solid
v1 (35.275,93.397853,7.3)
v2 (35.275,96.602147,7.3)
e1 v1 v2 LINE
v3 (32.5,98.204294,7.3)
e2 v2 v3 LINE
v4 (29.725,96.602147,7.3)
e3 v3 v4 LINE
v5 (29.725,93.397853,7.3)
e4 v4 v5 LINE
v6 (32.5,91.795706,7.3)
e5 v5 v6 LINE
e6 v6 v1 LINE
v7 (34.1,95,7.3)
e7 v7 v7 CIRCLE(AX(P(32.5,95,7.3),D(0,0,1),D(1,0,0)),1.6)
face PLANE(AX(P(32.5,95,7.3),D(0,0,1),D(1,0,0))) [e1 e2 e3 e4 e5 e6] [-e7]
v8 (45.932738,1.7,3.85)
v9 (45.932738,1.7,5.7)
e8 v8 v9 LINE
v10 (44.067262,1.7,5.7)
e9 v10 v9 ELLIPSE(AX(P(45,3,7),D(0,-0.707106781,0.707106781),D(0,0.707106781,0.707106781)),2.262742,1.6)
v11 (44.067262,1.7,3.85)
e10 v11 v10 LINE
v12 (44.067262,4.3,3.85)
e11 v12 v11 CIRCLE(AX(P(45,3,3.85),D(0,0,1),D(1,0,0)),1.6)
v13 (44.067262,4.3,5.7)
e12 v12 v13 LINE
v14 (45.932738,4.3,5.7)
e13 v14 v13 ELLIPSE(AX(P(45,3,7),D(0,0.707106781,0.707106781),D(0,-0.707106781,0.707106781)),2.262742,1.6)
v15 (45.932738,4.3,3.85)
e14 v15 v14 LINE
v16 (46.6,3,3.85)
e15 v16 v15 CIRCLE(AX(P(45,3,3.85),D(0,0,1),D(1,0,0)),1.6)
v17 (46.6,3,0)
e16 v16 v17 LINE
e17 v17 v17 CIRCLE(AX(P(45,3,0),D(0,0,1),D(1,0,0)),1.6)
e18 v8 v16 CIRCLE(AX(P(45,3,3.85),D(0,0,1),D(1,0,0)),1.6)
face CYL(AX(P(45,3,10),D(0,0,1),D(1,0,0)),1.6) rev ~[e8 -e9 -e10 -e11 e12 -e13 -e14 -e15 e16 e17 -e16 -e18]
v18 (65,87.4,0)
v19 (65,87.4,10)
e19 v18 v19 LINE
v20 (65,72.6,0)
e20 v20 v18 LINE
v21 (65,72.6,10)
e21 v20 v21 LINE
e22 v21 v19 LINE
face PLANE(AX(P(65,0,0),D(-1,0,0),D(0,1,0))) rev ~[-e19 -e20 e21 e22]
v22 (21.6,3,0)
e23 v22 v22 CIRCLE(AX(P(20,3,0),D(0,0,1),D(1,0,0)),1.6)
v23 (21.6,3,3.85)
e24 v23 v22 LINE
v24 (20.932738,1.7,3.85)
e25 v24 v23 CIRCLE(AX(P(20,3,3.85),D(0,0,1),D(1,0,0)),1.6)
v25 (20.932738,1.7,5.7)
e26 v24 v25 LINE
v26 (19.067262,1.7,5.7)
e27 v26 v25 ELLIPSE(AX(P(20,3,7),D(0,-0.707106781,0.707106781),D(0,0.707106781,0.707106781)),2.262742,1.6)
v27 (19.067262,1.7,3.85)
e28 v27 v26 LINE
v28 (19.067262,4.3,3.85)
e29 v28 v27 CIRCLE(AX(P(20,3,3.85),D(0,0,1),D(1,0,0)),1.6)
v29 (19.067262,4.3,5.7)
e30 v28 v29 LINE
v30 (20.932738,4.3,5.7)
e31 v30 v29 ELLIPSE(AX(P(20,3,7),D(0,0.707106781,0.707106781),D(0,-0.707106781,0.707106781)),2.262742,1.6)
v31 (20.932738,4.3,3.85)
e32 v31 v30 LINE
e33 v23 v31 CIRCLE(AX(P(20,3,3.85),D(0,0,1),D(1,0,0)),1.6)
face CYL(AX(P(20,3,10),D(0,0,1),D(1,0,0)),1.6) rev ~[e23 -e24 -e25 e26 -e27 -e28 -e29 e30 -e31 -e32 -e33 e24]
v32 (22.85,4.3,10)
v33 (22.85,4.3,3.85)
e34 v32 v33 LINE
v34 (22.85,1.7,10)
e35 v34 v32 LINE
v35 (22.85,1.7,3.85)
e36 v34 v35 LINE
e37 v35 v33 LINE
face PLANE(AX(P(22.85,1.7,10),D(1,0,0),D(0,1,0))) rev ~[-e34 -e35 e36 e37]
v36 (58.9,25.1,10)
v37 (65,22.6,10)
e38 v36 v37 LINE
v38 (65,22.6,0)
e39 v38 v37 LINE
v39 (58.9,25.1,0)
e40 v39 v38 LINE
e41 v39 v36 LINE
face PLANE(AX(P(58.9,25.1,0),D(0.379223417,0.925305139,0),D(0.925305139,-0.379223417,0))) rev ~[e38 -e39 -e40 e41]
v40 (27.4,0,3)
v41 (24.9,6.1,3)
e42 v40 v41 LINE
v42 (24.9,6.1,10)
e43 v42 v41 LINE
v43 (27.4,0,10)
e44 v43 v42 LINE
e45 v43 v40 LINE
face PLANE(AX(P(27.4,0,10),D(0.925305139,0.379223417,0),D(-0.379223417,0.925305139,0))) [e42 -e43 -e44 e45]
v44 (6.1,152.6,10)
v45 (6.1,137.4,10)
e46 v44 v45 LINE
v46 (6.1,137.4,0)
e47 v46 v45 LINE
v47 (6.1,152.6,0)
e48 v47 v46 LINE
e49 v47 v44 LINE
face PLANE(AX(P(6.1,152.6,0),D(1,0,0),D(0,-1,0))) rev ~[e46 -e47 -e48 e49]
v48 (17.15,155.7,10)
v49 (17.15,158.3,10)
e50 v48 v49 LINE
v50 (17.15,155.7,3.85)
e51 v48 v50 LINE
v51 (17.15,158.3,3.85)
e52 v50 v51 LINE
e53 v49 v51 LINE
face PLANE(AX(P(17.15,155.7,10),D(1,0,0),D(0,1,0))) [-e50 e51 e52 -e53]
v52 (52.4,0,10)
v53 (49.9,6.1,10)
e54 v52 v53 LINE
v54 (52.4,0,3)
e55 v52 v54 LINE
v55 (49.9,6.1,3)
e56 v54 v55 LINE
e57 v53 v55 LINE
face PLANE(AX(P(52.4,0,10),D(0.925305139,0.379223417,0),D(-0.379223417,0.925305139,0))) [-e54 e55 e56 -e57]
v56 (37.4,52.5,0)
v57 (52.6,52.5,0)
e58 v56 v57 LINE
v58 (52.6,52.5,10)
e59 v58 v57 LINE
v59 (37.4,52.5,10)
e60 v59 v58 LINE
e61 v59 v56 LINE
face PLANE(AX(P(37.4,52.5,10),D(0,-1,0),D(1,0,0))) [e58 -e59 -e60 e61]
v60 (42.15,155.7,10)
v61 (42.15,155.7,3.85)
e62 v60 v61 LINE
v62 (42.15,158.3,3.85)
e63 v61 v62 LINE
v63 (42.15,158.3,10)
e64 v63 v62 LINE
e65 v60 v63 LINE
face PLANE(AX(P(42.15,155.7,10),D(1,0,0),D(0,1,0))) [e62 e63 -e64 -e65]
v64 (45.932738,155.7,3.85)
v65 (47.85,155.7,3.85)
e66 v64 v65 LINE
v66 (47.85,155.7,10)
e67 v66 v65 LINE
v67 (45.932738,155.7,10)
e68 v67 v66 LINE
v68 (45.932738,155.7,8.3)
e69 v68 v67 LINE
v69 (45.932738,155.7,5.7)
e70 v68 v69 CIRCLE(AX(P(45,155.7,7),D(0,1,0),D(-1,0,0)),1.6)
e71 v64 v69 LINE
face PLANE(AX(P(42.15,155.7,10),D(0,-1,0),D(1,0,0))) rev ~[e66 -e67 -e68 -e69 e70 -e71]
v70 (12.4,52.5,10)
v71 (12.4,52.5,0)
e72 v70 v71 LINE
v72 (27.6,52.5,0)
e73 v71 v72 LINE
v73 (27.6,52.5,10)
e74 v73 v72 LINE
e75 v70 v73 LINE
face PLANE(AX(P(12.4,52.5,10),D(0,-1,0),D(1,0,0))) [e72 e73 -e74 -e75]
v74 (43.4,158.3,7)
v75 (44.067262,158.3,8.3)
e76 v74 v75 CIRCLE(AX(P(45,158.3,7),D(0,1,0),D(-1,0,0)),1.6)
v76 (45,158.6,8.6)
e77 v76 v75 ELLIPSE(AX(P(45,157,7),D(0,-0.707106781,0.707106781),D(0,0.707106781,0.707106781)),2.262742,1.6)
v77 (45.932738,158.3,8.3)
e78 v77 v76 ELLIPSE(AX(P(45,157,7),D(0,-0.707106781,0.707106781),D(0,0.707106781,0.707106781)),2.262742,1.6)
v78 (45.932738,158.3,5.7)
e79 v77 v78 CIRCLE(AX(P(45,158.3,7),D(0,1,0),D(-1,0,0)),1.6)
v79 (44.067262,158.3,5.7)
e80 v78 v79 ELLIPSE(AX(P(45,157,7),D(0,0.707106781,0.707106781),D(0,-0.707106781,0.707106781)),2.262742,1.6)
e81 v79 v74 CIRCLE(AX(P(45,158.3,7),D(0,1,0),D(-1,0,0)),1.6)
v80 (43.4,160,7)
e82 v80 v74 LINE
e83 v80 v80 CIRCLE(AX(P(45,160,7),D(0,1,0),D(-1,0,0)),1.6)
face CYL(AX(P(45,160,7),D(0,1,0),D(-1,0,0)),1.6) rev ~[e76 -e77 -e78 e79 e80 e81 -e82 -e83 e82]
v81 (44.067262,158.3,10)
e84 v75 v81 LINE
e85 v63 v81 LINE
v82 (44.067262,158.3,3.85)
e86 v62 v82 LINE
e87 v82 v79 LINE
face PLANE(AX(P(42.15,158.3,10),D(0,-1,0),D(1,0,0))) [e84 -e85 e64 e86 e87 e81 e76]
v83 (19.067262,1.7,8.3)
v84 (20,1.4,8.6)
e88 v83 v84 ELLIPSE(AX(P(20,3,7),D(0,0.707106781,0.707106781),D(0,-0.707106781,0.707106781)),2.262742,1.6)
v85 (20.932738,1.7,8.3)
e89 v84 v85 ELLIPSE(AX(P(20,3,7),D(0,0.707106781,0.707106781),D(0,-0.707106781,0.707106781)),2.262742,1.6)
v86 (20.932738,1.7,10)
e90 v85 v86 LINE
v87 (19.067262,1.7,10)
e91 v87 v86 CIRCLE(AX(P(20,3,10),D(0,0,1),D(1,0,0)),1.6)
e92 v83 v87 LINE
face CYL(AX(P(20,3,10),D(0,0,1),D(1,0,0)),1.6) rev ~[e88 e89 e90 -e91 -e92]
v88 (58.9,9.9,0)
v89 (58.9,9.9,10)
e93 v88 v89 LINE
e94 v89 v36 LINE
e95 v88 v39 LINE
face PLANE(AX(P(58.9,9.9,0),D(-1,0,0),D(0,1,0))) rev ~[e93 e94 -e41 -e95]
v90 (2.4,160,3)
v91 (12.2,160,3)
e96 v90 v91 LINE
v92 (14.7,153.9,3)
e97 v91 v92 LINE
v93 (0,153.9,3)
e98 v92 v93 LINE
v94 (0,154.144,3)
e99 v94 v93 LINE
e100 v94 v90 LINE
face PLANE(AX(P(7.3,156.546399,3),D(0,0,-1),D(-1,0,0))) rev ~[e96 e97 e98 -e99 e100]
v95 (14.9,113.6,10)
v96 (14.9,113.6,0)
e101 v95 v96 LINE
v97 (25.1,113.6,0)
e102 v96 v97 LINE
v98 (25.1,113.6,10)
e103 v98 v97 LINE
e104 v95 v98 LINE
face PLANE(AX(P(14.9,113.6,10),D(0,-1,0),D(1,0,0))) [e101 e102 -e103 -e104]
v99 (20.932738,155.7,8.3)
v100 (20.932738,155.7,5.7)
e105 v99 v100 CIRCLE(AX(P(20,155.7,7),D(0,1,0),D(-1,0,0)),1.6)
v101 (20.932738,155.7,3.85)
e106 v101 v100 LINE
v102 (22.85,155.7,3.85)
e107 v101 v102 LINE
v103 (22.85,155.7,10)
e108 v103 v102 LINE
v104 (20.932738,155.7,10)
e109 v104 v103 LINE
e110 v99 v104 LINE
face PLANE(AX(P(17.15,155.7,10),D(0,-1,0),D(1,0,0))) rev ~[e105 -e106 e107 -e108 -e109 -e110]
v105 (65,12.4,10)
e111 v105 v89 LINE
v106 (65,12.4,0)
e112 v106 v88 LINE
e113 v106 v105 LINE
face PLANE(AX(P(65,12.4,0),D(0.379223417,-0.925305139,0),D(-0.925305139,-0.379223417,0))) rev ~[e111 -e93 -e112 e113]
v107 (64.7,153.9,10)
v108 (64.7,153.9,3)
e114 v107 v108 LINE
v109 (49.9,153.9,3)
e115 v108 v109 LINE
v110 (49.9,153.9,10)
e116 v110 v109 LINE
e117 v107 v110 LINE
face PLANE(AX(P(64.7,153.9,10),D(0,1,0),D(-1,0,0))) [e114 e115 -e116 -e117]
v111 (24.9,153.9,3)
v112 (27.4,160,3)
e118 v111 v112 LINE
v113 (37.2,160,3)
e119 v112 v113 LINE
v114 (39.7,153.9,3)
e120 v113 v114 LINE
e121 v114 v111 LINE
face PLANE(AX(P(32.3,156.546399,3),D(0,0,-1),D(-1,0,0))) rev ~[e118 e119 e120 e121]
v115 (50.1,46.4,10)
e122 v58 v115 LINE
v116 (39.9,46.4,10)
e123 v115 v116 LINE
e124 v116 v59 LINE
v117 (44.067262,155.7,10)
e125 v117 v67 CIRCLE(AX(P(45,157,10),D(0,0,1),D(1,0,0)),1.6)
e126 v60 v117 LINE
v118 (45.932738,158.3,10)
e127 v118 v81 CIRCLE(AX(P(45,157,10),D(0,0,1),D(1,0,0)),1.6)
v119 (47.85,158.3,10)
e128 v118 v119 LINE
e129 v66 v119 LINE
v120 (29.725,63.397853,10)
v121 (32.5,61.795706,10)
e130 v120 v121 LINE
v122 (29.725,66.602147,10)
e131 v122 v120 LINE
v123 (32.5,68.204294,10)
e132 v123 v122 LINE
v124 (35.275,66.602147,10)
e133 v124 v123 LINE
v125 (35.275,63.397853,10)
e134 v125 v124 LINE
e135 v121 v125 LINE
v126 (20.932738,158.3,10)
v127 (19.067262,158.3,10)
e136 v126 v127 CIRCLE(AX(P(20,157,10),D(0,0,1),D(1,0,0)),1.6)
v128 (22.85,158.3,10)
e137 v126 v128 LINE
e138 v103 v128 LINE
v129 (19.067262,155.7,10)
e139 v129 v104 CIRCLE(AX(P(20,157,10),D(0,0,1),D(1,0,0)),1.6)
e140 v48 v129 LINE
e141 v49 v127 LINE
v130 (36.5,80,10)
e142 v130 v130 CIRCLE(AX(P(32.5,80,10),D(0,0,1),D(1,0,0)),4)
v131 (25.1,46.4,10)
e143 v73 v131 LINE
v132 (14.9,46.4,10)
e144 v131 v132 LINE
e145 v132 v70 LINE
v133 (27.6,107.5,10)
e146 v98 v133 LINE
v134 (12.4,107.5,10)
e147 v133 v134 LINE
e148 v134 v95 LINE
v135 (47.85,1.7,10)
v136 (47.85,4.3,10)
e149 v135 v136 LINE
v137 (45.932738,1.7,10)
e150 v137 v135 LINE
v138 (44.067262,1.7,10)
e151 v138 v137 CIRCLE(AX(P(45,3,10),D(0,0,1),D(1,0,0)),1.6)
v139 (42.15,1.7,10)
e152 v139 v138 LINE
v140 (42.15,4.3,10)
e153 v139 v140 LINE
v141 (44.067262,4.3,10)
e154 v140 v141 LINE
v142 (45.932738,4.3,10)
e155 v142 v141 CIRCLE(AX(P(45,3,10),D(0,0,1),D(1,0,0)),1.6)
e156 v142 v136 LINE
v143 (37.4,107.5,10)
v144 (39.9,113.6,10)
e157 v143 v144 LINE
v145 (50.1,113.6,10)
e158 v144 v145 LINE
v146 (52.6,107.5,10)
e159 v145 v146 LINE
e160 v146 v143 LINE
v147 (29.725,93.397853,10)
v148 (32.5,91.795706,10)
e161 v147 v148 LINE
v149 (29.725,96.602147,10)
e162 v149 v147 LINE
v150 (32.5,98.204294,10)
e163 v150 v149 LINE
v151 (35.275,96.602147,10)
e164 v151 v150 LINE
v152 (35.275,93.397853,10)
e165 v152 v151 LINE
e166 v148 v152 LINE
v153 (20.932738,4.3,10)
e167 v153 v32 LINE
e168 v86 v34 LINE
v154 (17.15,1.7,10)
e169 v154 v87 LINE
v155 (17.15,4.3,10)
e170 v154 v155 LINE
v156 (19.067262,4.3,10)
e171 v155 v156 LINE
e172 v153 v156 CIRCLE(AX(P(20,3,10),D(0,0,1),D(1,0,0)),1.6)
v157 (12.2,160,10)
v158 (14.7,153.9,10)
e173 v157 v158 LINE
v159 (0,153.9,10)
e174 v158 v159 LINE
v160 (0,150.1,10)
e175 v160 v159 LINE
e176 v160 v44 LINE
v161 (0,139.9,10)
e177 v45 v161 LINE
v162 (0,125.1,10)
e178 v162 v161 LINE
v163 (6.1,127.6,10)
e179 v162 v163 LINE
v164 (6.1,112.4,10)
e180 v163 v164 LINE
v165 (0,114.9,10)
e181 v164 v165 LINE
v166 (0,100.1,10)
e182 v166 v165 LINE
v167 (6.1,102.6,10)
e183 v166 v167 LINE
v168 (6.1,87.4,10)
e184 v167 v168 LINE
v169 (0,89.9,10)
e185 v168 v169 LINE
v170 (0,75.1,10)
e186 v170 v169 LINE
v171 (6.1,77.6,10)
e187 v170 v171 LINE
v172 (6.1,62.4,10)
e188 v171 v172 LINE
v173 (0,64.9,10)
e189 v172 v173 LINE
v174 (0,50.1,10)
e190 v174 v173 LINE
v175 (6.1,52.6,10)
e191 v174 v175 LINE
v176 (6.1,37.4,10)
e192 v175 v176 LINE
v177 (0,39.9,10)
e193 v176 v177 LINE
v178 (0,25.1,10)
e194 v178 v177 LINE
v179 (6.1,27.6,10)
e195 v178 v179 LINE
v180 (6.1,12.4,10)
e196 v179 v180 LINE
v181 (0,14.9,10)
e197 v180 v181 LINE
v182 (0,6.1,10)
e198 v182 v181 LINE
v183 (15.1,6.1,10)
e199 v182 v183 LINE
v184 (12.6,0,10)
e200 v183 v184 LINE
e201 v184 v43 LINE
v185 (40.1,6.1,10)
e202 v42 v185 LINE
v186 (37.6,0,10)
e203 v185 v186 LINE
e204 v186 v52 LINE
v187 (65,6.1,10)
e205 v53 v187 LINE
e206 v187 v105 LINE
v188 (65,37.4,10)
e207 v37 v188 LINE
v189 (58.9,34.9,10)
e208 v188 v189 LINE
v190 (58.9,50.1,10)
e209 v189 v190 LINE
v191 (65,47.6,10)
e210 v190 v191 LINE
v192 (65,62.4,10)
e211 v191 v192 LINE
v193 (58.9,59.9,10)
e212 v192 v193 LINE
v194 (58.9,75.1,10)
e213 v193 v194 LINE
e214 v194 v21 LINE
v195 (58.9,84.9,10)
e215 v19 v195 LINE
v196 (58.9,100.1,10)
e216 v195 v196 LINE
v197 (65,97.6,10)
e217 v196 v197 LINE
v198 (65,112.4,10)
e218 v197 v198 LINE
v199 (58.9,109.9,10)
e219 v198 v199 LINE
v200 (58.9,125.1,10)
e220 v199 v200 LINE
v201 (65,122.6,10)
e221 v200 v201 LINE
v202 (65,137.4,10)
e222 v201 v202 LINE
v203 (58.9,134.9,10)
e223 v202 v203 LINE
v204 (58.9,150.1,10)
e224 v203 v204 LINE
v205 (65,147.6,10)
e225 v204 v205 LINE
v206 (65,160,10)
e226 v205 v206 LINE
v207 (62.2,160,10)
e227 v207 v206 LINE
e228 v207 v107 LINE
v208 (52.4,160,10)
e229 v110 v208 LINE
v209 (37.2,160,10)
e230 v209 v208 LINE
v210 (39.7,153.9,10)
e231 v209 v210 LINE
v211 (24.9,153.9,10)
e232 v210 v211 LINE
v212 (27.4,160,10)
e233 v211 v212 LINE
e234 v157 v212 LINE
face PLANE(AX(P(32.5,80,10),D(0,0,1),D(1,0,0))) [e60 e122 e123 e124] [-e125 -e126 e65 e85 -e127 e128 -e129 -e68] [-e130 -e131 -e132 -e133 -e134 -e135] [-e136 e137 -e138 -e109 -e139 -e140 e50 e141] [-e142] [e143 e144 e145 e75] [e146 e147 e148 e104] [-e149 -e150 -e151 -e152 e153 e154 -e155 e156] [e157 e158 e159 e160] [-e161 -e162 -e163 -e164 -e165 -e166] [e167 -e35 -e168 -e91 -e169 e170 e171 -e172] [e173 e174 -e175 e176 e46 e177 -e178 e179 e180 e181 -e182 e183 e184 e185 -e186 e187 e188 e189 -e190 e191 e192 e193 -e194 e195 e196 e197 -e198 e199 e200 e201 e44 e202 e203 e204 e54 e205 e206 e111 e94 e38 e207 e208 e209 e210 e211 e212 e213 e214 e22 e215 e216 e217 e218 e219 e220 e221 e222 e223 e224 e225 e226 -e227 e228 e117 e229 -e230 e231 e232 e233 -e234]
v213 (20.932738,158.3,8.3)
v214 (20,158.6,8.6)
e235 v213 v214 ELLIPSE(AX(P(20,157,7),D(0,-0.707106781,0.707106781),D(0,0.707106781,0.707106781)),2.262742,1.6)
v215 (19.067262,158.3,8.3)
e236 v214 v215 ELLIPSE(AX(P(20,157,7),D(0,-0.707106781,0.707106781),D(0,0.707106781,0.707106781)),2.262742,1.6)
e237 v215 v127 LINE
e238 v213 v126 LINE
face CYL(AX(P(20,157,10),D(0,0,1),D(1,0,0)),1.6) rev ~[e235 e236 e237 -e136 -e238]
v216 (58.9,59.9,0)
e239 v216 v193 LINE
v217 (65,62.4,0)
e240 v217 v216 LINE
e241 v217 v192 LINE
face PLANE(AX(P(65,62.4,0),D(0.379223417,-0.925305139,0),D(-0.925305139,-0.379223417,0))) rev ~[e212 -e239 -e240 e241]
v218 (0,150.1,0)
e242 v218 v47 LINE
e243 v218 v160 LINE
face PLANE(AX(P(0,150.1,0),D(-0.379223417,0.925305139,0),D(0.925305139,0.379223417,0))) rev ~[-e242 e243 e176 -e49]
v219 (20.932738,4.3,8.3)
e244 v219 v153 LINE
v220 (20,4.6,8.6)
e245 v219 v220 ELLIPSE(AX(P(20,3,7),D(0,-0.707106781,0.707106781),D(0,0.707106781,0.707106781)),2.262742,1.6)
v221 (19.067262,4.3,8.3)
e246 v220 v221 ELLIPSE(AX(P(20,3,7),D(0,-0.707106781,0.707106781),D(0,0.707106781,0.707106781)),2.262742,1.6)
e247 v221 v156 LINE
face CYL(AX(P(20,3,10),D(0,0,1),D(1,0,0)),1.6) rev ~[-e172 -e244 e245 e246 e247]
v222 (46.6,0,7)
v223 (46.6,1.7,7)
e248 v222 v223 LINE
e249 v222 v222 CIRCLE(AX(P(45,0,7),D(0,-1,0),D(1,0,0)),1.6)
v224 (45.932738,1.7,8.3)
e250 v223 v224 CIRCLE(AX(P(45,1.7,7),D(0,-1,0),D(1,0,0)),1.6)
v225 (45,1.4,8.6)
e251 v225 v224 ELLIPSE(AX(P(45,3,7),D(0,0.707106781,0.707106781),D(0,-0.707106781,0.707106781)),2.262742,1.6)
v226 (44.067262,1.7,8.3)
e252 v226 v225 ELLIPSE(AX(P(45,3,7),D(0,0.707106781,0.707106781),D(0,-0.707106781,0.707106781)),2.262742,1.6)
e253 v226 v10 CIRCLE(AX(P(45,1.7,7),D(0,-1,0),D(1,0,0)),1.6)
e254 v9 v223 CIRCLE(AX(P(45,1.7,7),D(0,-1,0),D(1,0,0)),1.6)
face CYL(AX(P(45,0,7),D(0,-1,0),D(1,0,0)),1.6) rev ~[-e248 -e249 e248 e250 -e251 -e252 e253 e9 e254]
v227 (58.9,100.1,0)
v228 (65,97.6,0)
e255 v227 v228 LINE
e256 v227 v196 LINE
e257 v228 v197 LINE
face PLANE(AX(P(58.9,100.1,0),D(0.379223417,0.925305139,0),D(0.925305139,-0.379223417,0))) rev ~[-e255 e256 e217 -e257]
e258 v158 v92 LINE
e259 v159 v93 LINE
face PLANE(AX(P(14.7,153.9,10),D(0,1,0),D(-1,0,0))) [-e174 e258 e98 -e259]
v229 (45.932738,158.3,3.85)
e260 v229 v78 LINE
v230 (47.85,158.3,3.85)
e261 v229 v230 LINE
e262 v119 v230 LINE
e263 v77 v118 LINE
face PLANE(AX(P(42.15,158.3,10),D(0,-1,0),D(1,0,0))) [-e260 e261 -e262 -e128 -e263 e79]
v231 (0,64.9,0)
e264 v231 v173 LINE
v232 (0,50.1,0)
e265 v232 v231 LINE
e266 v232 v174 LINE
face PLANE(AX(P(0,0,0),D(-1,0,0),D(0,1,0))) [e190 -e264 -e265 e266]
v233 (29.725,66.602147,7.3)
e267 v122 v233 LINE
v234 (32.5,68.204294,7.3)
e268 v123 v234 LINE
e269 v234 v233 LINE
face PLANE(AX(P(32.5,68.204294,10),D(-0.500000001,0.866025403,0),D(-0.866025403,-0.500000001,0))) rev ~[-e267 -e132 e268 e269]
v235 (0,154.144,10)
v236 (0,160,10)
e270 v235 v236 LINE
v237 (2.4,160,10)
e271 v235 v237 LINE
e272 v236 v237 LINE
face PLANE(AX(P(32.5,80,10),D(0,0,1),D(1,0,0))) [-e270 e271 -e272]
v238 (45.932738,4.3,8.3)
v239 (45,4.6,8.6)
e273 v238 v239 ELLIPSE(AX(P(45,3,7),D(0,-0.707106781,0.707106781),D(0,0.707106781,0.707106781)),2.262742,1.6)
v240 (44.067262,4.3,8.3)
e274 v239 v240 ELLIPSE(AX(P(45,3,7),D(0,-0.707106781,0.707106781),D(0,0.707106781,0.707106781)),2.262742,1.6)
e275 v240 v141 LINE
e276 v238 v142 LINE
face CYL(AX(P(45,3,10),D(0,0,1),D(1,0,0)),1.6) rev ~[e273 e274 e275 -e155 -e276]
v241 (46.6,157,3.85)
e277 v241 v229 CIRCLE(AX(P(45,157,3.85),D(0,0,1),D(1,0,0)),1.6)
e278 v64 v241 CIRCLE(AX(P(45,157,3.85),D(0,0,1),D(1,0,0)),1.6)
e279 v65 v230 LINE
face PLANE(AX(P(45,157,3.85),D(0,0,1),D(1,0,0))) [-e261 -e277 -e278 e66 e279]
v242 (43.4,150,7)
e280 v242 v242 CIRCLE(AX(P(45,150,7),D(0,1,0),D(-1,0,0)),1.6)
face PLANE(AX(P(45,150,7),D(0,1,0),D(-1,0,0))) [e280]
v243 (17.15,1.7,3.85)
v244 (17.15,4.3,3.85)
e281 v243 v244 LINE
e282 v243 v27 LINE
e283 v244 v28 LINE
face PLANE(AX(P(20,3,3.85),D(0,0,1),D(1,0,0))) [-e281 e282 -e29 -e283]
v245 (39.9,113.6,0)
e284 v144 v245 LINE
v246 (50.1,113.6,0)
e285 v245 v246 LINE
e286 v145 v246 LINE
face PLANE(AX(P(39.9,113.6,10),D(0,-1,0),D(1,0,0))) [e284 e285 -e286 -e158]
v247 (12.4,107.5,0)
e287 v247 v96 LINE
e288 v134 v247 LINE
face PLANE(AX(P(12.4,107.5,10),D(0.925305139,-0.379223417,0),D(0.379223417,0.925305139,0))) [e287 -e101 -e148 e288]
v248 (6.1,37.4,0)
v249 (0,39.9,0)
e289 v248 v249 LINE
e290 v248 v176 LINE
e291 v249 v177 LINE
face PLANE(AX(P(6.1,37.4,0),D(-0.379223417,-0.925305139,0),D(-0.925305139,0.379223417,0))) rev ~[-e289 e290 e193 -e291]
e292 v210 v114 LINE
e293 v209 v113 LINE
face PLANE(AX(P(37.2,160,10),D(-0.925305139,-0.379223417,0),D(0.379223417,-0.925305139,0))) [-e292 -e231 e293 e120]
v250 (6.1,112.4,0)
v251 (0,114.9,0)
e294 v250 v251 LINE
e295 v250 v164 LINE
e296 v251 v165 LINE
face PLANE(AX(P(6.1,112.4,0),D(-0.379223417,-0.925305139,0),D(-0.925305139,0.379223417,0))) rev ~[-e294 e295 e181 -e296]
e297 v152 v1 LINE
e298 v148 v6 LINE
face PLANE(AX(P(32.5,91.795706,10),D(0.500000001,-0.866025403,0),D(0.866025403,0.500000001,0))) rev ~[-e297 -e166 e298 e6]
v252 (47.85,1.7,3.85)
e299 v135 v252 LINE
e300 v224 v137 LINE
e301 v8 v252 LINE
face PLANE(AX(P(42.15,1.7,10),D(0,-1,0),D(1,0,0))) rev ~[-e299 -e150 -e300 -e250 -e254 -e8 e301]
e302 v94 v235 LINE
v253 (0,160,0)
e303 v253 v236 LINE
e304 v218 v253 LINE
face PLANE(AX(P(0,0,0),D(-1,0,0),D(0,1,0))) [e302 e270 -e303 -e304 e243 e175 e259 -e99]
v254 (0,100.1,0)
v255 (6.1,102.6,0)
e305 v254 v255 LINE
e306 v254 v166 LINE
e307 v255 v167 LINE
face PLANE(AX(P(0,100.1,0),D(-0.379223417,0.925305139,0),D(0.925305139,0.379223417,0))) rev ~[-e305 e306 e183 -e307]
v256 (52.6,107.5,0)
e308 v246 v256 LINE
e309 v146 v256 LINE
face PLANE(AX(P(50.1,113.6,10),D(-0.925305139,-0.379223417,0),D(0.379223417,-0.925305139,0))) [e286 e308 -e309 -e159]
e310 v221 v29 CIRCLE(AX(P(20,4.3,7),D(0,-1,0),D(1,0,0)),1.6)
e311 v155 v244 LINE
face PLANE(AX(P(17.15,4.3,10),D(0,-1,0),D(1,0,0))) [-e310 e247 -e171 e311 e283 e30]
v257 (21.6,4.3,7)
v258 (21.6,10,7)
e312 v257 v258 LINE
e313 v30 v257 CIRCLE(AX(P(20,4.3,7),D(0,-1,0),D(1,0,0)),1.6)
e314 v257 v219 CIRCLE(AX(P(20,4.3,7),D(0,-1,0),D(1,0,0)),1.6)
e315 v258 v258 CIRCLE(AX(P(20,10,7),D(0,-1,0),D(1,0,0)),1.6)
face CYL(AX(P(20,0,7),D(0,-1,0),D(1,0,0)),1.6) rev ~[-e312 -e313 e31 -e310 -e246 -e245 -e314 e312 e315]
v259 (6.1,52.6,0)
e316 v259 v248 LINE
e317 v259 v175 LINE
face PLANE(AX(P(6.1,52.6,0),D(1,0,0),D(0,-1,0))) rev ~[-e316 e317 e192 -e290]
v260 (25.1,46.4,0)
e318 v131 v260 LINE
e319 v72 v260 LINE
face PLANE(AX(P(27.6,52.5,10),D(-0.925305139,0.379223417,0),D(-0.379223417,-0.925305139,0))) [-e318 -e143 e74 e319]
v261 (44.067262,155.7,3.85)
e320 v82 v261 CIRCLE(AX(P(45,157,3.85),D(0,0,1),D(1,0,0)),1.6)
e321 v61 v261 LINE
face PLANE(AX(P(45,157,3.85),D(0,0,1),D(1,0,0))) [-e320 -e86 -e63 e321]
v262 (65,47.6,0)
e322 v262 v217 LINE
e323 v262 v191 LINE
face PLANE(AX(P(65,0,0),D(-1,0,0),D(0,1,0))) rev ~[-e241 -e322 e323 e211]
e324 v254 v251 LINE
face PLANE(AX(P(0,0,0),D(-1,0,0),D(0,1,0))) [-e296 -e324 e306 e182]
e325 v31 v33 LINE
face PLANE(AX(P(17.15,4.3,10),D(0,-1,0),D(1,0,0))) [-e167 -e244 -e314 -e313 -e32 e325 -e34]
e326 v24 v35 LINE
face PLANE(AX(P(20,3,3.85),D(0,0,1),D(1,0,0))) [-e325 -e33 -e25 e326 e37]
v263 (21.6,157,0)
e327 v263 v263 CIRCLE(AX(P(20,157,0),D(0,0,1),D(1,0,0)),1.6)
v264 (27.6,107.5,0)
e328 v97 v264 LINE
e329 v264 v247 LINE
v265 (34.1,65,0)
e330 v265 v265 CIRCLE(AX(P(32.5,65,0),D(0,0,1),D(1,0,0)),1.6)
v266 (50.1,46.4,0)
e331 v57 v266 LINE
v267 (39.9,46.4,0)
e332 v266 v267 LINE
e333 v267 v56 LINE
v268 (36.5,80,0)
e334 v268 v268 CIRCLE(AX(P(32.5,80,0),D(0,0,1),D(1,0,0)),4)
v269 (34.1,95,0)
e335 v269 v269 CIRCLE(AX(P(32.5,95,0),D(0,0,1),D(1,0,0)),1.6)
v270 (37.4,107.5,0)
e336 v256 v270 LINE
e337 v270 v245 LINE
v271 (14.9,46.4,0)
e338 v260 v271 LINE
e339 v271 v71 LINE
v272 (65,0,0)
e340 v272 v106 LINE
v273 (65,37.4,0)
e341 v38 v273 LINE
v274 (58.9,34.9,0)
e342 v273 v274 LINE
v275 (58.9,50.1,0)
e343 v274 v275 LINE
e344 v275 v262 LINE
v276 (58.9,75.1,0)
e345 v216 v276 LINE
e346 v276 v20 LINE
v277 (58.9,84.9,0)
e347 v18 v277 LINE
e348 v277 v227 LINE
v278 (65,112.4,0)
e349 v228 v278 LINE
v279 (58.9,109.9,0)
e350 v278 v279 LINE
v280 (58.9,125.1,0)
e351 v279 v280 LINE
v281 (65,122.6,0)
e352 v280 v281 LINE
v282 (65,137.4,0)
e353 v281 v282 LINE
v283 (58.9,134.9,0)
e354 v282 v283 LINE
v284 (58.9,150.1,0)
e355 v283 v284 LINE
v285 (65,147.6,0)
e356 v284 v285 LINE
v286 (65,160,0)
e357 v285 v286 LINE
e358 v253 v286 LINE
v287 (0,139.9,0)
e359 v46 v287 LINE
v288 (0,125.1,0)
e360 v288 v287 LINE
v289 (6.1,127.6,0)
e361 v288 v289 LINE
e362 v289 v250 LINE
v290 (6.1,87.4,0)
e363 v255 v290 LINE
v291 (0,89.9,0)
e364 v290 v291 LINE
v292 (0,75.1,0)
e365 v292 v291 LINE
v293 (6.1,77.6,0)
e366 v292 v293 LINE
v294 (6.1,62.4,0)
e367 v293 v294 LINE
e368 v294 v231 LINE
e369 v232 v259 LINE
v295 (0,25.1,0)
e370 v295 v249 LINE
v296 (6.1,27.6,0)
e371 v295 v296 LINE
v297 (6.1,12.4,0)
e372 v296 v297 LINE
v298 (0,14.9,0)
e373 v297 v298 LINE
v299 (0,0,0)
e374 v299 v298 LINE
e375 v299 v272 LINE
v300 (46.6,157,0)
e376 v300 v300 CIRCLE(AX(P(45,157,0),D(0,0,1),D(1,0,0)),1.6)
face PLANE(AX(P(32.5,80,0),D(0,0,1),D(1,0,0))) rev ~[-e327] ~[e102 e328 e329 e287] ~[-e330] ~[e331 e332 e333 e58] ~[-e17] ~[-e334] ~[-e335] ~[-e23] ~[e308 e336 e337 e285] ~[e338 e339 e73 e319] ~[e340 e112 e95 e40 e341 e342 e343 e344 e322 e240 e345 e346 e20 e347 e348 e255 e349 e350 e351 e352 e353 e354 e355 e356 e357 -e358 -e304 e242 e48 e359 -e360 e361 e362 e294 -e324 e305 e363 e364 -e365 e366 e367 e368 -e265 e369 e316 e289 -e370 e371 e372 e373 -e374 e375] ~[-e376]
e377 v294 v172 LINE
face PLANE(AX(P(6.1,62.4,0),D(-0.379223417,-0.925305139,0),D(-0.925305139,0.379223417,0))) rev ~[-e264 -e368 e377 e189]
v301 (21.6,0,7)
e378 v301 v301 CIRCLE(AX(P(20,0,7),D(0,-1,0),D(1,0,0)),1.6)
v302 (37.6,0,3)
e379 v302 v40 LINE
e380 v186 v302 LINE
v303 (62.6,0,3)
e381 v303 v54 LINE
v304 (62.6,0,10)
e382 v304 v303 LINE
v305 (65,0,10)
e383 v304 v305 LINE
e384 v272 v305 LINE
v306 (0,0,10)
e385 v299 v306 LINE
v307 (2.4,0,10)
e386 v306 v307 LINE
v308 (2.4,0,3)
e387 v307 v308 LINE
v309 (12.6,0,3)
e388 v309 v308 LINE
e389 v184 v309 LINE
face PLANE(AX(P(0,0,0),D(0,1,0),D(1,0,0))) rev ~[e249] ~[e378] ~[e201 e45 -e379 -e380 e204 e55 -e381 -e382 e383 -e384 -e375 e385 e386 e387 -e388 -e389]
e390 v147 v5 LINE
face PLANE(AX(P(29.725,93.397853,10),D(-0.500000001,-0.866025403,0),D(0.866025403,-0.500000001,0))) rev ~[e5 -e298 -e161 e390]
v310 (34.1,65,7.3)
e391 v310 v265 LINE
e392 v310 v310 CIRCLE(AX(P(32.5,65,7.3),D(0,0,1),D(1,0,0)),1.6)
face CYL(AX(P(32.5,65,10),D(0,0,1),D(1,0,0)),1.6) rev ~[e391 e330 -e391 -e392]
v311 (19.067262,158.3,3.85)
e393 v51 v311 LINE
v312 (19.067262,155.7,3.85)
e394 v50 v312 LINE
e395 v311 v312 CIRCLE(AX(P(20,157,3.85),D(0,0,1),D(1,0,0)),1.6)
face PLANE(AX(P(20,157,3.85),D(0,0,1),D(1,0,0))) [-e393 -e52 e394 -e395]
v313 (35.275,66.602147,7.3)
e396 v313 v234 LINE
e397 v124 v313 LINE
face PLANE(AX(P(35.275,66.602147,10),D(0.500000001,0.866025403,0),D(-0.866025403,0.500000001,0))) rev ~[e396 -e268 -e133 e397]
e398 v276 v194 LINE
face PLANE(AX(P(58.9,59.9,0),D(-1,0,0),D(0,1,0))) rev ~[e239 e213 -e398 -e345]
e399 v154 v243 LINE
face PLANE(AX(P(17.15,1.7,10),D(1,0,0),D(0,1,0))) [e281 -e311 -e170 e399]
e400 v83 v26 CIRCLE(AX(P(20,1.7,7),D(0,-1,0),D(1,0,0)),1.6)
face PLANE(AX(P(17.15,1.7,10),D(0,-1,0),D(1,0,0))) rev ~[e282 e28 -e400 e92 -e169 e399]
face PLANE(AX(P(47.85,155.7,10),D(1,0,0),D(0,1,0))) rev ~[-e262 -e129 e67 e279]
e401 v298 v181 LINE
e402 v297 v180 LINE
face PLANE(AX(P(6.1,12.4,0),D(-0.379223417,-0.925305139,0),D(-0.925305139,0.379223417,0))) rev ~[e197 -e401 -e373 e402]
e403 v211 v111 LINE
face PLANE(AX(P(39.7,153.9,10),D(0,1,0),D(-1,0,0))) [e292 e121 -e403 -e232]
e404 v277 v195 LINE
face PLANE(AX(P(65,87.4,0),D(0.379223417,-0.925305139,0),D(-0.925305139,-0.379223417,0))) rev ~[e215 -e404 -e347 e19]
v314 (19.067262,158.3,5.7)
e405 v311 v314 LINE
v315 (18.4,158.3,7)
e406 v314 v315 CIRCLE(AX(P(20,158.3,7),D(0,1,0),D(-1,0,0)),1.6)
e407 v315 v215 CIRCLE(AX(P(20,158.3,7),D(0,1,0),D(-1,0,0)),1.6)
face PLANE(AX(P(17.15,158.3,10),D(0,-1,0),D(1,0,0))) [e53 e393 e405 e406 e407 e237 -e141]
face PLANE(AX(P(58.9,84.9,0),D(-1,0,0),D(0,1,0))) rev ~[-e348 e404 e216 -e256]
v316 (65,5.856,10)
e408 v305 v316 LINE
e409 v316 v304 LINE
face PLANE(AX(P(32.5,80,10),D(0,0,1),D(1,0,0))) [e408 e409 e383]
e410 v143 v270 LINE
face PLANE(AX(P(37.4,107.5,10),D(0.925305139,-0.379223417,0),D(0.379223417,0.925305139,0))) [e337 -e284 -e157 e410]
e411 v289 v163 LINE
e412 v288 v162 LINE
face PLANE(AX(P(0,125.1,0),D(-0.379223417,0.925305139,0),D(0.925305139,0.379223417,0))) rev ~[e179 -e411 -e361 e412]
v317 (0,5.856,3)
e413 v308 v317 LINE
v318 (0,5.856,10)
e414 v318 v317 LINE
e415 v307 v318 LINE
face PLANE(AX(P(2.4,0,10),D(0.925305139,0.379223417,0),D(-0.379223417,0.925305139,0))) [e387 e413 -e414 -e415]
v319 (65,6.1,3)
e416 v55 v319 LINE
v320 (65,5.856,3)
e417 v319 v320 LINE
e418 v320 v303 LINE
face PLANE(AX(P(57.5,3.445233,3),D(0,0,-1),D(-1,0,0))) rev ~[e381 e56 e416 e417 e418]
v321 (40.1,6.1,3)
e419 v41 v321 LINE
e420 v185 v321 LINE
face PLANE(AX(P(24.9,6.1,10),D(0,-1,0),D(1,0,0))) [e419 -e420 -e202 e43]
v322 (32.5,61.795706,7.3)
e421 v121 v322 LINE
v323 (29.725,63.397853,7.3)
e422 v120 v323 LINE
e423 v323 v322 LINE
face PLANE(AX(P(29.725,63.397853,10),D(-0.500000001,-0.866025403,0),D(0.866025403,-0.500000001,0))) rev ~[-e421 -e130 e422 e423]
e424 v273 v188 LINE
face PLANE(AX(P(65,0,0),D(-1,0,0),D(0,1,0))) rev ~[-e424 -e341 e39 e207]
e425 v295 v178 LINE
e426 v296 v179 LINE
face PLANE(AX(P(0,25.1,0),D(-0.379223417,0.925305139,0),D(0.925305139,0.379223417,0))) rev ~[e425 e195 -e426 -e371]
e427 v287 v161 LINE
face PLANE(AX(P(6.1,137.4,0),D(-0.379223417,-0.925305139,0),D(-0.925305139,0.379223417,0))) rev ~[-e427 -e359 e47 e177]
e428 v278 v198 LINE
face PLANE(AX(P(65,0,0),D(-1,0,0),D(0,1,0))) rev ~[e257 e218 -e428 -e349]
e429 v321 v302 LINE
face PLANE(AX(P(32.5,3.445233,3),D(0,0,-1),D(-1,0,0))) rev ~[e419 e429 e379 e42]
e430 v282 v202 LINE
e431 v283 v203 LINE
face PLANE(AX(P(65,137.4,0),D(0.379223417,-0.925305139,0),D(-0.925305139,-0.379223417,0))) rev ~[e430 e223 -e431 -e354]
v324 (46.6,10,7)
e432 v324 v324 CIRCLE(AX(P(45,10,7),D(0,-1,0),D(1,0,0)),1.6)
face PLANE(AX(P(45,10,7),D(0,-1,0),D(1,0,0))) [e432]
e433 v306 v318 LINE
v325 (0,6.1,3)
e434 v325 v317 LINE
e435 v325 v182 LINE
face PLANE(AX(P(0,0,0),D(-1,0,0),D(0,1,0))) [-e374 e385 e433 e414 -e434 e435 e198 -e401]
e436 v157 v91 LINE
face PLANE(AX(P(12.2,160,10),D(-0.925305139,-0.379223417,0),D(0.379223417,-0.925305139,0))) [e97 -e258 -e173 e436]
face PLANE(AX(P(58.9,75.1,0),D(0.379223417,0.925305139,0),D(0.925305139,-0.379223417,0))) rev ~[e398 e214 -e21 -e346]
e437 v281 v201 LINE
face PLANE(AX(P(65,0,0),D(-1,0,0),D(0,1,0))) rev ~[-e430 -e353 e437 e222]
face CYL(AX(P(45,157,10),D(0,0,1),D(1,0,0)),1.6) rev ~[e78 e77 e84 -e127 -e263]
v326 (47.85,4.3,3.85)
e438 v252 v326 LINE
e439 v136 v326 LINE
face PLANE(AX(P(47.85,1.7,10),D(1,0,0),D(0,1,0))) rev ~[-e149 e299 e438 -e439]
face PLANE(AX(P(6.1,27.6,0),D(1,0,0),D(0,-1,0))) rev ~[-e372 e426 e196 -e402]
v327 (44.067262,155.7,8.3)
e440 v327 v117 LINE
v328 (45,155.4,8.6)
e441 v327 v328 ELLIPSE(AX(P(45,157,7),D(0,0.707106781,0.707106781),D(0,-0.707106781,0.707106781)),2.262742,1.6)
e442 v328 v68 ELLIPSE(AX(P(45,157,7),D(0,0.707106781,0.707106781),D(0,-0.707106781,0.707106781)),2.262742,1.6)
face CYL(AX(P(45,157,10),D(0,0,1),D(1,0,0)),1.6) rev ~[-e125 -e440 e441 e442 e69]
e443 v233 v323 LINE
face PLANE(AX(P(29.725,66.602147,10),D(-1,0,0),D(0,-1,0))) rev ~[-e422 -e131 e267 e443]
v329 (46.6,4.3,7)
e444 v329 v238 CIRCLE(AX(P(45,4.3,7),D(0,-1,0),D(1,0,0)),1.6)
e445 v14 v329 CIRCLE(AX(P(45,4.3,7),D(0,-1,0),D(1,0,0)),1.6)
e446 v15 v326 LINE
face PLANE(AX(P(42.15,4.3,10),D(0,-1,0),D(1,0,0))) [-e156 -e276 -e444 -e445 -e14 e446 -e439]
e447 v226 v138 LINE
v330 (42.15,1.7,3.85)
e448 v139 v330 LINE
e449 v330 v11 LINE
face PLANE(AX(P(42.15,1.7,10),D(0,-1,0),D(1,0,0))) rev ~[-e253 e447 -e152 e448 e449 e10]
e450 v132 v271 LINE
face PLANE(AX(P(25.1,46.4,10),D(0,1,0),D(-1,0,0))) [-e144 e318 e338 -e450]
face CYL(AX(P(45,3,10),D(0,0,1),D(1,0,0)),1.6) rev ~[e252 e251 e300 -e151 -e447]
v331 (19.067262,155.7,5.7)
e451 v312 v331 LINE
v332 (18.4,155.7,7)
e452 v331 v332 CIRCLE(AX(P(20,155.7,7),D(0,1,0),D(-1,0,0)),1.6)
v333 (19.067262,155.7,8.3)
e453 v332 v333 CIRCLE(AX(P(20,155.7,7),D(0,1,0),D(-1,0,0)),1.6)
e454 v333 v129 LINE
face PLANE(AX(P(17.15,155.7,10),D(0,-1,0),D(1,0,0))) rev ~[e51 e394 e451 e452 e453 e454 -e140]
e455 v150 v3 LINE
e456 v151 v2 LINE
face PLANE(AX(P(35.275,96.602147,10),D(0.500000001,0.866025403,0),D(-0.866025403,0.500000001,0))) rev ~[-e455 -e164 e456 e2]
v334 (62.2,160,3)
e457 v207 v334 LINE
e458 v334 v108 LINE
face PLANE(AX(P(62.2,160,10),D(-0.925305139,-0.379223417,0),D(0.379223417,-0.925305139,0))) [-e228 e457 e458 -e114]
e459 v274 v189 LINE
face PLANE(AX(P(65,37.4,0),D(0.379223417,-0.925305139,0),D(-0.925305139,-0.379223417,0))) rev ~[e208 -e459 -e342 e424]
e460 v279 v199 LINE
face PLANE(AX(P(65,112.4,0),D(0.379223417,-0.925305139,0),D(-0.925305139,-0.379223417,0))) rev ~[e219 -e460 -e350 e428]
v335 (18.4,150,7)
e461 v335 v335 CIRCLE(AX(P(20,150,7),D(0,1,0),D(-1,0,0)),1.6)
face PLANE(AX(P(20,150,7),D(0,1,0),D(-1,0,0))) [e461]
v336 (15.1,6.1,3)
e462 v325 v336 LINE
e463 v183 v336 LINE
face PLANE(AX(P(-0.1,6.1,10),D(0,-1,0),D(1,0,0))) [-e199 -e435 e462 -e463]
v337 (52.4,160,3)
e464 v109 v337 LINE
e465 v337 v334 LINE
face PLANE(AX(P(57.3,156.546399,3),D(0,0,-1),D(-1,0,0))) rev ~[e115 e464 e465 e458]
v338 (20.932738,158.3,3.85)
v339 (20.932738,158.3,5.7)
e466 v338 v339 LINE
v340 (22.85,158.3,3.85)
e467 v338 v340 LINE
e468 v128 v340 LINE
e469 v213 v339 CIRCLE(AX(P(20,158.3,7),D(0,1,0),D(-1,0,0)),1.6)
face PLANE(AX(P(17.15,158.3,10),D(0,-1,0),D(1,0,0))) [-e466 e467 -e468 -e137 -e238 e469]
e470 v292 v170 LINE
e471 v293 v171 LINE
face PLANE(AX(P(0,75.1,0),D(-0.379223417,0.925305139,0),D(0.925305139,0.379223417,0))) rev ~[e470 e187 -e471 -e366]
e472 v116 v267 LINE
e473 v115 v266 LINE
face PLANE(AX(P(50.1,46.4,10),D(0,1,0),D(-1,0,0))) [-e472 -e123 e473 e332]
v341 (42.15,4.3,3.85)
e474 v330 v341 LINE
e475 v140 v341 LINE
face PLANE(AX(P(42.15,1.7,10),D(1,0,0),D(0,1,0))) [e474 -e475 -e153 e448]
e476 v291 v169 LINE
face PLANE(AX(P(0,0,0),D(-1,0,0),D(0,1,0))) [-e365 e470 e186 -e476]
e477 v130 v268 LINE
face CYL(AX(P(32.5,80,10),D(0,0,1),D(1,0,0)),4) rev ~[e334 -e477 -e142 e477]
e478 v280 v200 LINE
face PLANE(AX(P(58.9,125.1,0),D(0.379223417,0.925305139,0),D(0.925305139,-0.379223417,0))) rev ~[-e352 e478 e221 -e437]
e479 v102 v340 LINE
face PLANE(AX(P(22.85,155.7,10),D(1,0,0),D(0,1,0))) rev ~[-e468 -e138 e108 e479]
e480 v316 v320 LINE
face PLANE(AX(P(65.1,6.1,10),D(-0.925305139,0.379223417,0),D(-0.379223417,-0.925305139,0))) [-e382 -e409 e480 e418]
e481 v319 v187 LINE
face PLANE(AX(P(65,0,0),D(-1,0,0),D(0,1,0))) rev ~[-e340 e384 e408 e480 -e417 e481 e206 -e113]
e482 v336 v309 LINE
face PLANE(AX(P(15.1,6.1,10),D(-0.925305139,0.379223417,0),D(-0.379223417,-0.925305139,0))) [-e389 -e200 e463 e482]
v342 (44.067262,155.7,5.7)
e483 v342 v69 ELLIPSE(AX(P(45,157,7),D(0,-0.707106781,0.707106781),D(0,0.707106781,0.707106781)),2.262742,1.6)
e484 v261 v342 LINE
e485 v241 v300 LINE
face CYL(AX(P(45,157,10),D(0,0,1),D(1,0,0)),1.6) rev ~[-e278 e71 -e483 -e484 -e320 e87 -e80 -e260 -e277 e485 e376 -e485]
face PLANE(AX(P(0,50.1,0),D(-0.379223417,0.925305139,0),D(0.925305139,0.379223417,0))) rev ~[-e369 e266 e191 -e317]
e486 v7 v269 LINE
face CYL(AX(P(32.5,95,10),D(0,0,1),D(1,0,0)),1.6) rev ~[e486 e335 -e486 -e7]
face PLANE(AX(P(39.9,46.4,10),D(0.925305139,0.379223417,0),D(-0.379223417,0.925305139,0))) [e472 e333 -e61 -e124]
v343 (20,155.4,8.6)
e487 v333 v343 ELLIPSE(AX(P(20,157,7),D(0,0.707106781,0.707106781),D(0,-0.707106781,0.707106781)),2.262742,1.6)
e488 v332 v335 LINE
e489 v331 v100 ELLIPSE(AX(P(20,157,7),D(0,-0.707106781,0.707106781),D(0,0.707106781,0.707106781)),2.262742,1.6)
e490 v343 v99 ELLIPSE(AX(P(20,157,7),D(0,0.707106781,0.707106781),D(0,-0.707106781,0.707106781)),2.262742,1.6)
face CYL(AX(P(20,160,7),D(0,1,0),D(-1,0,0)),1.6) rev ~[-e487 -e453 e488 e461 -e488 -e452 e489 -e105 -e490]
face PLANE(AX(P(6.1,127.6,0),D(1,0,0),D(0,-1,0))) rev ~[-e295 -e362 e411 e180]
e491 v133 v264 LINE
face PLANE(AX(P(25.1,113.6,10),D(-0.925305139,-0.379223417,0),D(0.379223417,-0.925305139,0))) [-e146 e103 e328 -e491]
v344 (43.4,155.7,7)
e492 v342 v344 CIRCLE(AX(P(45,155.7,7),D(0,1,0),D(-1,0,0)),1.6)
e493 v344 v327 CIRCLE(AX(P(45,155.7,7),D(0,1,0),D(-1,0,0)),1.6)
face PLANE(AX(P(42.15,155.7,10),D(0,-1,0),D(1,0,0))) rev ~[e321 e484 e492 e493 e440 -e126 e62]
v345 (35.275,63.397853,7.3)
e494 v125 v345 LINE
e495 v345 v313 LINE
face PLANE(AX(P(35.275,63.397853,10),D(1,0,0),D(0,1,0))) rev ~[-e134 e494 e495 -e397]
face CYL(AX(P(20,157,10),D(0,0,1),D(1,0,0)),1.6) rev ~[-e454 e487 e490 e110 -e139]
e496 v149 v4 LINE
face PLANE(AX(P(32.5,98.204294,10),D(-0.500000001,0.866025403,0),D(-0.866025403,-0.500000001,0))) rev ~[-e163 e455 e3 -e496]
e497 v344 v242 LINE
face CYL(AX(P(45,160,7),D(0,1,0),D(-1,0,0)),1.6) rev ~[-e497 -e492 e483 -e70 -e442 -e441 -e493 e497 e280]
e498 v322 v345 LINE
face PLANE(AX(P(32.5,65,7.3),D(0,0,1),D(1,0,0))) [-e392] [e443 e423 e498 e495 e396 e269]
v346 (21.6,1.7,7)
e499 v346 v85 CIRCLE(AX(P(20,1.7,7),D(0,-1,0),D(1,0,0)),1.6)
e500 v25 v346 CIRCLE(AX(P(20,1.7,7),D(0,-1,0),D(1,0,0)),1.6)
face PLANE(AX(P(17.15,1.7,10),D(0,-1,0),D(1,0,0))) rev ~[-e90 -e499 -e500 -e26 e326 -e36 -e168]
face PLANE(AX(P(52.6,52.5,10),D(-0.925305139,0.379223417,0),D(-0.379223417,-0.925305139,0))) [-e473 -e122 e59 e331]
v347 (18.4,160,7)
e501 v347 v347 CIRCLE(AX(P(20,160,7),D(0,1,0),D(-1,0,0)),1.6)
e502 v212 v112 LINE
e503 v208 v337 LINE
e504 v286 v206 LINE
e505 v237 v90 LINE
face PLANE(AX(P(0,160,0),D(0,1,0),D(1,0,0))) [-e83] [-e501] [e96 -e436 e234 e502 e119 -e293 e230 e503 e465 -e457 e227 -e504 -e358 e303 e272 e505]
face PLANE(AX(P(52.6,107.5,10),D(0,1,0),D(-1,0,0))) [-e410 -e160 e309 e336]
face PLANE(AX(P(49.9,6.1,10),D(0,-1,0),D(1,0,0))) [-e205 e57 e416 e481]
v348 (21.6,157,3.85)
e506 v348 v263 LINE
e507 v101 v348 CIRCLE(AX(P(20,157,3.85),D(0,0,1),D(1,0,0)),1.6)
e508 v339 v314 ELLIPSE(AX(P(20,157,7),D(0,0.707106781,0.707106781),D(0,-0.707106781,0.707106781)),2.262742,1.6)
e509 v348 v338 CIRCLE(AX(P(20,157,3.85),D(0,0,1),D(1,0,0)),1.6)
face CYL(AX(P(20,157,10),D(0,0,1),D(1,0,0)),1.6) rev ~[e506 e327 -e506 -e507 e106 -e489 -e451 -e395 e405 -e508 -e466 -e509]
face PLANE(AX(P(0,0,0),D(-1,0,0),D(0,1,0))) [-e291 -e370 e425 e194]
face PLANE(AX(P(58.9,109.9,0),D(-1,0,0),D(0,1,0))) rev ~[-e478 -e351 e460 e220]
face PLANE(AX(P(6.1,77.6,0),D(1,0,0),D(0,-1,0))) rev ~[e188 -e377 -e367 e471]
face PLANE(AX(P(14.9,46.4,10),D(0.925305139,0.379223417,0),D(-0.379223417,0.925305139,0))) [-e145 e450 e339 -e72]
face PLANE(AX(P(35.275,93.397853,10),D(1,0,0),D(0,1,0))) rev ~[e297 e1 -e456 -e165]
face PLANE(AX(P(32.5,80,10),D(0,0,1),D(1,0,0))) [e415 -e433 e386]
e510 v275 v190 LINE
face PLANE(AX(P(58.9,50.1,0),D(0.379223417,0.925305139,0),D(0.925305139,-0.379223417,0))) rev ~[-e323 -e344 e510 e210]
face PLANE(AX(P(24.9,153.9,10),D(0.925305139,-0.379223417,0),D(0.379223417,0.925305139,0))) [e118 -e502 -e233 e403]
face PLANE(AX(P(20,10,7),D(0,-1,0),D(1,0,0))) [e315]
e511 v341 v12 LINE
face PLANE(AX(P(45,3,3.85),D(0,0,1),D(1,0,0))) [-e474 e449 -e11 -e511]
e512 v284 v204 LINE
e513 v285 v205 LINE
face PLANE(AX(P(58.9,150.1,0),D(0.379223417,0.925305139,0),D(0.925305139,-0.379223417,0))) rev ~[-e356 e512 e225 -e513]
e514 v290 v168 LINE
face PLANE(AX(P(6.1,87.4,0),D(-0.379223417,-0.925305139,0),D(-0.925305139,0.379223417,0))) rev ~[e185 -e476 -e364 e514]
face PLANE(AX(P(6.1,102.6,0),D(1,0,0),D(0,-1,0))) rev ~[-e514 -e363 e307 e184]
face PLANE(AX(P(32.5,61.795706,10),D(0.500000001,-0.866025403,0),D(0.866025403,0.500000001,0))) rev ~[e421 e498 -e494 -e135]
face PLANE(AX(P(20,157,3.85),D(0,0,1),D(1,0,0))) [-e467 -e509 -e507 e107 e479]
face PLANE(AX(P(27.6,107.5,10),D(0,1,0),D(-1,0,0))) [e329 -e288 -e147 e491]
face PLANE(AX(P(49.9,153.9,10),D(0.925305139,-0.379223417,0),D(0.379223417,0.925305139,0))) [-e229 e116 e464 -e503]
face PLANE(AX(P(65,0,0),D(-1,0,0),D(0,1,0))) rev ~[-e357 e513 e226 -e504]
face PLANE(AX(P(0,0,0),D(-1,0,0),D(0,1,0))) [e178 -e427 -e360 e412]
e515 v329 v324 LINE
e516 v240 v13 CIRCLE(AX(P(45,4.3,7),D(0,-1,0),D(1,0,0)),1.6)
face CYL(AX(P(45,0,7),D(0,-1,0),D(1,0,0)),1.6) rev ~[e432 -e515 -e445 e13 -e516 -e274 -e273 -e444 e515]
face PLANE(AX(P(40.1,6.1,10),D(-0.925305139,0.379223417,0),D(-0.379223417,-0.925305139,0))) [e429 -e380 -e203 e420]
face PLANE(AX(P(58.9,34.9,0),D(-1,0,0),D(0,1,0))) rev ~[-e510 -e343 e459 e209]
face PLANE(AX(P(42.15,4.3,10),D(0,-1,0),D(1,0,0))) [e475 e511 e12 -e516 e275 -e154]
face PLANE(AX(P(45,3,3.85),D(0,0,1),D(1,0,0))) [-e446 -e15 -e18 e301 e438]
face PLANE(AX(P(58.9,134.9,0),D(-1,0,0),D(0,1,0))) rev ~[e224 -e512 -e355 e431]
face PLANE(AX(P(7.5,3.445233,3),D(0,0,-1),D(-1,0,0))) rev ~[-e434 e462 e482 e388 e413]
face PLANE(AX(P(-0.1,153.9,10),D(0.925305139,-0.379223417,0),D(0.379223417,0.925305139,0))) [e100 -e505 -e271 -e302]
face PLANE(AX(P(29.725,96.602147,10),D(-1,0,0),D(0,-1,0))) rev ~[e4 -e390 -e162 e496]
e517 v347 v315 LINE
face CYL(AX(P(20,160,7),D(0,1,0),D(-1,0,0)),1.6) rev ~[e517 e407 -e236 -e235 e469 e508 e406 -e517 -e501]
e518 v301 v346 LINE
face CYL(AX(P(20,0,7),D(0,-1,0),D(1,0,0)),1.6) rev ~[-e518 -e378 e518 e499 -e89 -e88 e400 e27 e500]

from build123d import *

# Parameters (mm, degrees)
SKETCH_W        = 65
SKETCH_H        = 160
PAD_DEPTH       = 10
POCKET_DEPTH    = 7
SKETCH003_R     = 1.6
POCKET002_DEPTH = 10
POCKET003_DEPTH = 10
SKETCH005_R     = 1.6
POCKET004_DEPTH = 10
SKETCH006_R     = 1.6
POCKET005_DEPTH = 10
SKETCH007_W     = 5.7
SKETCH007_H     = 2.6
POCKET006_DEPTH = 6.15
POCKET007_DEPTH = 11
SKETCH010_R     = 4
SKETCH010_R_2   = 1.6
POCKET008_DEPTH = 10
POCKET009_DEPTH = 2.7


with BuildPart() as part:
    # Sketch → Pad (new body)
    with BuildSketch(Plane.XY):
        with Locations((32.5, 80)):
            Rectangle(SKETCH_W, SKETCH_H)
    extrude(amount=PAD_DEPTH)

    # Sketch001 (on Face6 of Pad) → Pocket (cut)
    with BuildSketch(Plane.XY.offset(10)):
        Polygon((24.9, 6.1), (40.1, 6.1), (37.6, 0), (27.4, 0), align=None)
        Polygon((49.9, 6.1), (65.1, 6.1), (62.6, 0), (52.4, 0), align=None)
        Polygon((-0.1, 6.1), (15.1, 6.1), (12.6, 0), (2.4, 0), align=None)
        Polygon((39.7, 153.9), (24.9, 153.9), (27.4, 160), (37.2, 160), align=None)
        Polygon((14.7, 153.9), (-0.1, 153.9), (2.4, 160), (12.2, 160), align=None)
        Polygon((64.7, 153.9), (49.9, 153.9), (52.4, 160), (62.2, 160), align=None)
    extrude(amount=-POCKET_DEPTH, mode=Mode.SUBTRACT)

    # Sketch003 → Pocket002 (cut)
    with BuildSketch(Plane.XY.offset(10)):
        with Locations((20, 157)):
            Circle(SKETCH003_R)
        with Locations((45, 157)):
            Circle(SKETCH003_R)
        with Locations((20, 3)):
            Circle(SKETCH003_R)
        with Locations((45, 3)):
            Circle(SKETCH003_R)
    extrude(amount=-POCKET002_DEPTH, mode=Mode.SUBTRACT)

    # Sketch004 (on Face2 of Pocket002) → Pocket003 (cut)
    with BuildSketch(Plane(origin=(0, 0, 0), x_dir=(1, 0, 0), z_dir=(0, 0, -1))):
        Polygon((58.9, -84.9), (58.9, -100.1), (65, -97.6), (65, -87.4), align=None)
        Polygon((58.9, -59.9), (58.9, -75.1), (65, -72.6), (65, -62.4), align=None)
        Polygon((58.9, -34.9), (58.9, -50.1), (65, -47.6), (65, -37.4), align=None)
        Polygon((58.9, -9.9), (58.9, -25.1), (65, -22.6), (65, -12.4), align=None)
        Polygon((58.9, -134.9), (58.9, -150.1), (65, -147.6), (65, -137.4), align=None)
        Polygon((58.9, -109.9), (58.9, -125.1), (65, -122.6), (65, -112.4), align=None)
        Polygon((0, -14.9), (0, -25.1), (6.1, -27.6), (6.1, -12.4), align=None)
        Polygon((0, -39.9), (0, -50.1), (6.1, -52.6), (6.1, -37.4), align=None)
        Polygon((0, -64.9), (0, -75.1), (6.1, -77.6), (6.1, -62.4), align=None)
        Polygon((0, -89.9), (0, -100.1), (6.1, -102.6), (6.1, -87.4), align=None)
        Polygon((0, -114.9), (0, -125.1), (6.1, -127.6), (6.1, -112.4), align=None)
        Polygon((0, -139.9), (0, -150.1), (6.1, -152.6), (6.1, -137.4), align=None)
    extrude(amount=-POCKET003_DEPTH, mode=Mode.SUBTRACT)

    # Sketch005 (on Face40 of Pocket003) → Pocket004 (cut)
    with BuildSketch(Plane.XZ):
        with Locations((20, 7)):
            Circle(SKETCH005_R)
        with Locations((45, 7)):
            Circle(SKETCH005_R)
    extrude(amount=-POCKET004_DEPTH, mode=Mode.SUBTRACT)

    # Sketch006 (on Face1 of Pocket004) → Pocket005 (cut)
    with BuildSketch(Plane(origin=(0, 160, 0), x_dir=(-1, 0, 0), z_dir=(0, 1, 0))):
        with Locations((-45, 7)):
            Circle(SKETCH006_R)
        with Locations((-20, 7)):
            Circle(SKETCH006_R)
    extrude(amount=-POCKET005_DEPTH, mode=Mode.SUBTRACT)

    # Sketch007 (on Face6 of Pocket005) → Pocket006 (cut)
    with BuildSketch(Plane.XY.offset(10)):
        with Locations((20, 157)):
            Rectangle(SKETCH007_W, SKETCH007_H)
        with Locations((45, 157)):
            Rectangle(SKETCH007_W, SKETCH007_H)
        with Locations((20, 3)):
            Rectangle(SKETCH007_W, SKETCH007_H)
        with Locations((45, 3)):
            Rectangle(SKETCH007_W, SKETCH007_H)
    extrude(amount=-POCKET006_DEPTH, mode=Mode.SUBTRACT)

    # Sketch009 (on Face6 of Pocket006) → Pocket007 (cut)
    with BuildSketch(Plane.XY.offset(10)):
        Polygon((14.9, 113.6), (25.1, 113.6), (27.6, 107.5), (12.4, 107.5), align=None)
        Polygon((39.9, 113.6), (50.1, 113.6), (52.6, 107.5), (37.4, 107.5), align=None)
        Polygon((12.4, 52.5), (27.6, 52.5), (25.1, 46.4), (14.9, 46.4), align=None)
        Polygon((37.4, 52.5), (52.6, 52.5), (50.1, 46.4), (39.9, 46.4), align=None)
    extrude(amount=-POCKET007_DEPTH, mode=Mode.SUBTRACT)

    # Sketch010 (on Face6 of Pocket007) → Pocket008 (cut)
    with BuildSketch(Plane.XY.offset(10)):
        with Locations((32.5, 80)):
            Circle(SKETCH010_R)
        with Locations((32.5, 95)):
            Circle(SKETCH010_R_2)
        with Locations((32.5, 65)):
            Circle(SKETCH010_R_2)
    extrude(amount=-POCKET008_DEPTH, mode=Mode.SUBTRACT)

    # Sketch011 (on Face6 of Pocket008) → Pocket009 (cut)
    with BuildSketch(Plane.XY.offset(10)):
        Polygon((35.275, 93.397853), (35.275, 96.602147), (32.5, 98.204294), (29.725, 96.602147), (29.725, 93.397853), (32.5, 91.795706), align=None)
        Polygon((35.275, 63.397853), (35.275, 66.602147), (32.5, 68.204294), (29.725, 66.602147), (29.725, 63.397853), (32.5, 61.795706), align=None)
    extrude(amount=-POCKET009_DEPTH, mode=Mode.SUBTRACT)


solid = part.part
